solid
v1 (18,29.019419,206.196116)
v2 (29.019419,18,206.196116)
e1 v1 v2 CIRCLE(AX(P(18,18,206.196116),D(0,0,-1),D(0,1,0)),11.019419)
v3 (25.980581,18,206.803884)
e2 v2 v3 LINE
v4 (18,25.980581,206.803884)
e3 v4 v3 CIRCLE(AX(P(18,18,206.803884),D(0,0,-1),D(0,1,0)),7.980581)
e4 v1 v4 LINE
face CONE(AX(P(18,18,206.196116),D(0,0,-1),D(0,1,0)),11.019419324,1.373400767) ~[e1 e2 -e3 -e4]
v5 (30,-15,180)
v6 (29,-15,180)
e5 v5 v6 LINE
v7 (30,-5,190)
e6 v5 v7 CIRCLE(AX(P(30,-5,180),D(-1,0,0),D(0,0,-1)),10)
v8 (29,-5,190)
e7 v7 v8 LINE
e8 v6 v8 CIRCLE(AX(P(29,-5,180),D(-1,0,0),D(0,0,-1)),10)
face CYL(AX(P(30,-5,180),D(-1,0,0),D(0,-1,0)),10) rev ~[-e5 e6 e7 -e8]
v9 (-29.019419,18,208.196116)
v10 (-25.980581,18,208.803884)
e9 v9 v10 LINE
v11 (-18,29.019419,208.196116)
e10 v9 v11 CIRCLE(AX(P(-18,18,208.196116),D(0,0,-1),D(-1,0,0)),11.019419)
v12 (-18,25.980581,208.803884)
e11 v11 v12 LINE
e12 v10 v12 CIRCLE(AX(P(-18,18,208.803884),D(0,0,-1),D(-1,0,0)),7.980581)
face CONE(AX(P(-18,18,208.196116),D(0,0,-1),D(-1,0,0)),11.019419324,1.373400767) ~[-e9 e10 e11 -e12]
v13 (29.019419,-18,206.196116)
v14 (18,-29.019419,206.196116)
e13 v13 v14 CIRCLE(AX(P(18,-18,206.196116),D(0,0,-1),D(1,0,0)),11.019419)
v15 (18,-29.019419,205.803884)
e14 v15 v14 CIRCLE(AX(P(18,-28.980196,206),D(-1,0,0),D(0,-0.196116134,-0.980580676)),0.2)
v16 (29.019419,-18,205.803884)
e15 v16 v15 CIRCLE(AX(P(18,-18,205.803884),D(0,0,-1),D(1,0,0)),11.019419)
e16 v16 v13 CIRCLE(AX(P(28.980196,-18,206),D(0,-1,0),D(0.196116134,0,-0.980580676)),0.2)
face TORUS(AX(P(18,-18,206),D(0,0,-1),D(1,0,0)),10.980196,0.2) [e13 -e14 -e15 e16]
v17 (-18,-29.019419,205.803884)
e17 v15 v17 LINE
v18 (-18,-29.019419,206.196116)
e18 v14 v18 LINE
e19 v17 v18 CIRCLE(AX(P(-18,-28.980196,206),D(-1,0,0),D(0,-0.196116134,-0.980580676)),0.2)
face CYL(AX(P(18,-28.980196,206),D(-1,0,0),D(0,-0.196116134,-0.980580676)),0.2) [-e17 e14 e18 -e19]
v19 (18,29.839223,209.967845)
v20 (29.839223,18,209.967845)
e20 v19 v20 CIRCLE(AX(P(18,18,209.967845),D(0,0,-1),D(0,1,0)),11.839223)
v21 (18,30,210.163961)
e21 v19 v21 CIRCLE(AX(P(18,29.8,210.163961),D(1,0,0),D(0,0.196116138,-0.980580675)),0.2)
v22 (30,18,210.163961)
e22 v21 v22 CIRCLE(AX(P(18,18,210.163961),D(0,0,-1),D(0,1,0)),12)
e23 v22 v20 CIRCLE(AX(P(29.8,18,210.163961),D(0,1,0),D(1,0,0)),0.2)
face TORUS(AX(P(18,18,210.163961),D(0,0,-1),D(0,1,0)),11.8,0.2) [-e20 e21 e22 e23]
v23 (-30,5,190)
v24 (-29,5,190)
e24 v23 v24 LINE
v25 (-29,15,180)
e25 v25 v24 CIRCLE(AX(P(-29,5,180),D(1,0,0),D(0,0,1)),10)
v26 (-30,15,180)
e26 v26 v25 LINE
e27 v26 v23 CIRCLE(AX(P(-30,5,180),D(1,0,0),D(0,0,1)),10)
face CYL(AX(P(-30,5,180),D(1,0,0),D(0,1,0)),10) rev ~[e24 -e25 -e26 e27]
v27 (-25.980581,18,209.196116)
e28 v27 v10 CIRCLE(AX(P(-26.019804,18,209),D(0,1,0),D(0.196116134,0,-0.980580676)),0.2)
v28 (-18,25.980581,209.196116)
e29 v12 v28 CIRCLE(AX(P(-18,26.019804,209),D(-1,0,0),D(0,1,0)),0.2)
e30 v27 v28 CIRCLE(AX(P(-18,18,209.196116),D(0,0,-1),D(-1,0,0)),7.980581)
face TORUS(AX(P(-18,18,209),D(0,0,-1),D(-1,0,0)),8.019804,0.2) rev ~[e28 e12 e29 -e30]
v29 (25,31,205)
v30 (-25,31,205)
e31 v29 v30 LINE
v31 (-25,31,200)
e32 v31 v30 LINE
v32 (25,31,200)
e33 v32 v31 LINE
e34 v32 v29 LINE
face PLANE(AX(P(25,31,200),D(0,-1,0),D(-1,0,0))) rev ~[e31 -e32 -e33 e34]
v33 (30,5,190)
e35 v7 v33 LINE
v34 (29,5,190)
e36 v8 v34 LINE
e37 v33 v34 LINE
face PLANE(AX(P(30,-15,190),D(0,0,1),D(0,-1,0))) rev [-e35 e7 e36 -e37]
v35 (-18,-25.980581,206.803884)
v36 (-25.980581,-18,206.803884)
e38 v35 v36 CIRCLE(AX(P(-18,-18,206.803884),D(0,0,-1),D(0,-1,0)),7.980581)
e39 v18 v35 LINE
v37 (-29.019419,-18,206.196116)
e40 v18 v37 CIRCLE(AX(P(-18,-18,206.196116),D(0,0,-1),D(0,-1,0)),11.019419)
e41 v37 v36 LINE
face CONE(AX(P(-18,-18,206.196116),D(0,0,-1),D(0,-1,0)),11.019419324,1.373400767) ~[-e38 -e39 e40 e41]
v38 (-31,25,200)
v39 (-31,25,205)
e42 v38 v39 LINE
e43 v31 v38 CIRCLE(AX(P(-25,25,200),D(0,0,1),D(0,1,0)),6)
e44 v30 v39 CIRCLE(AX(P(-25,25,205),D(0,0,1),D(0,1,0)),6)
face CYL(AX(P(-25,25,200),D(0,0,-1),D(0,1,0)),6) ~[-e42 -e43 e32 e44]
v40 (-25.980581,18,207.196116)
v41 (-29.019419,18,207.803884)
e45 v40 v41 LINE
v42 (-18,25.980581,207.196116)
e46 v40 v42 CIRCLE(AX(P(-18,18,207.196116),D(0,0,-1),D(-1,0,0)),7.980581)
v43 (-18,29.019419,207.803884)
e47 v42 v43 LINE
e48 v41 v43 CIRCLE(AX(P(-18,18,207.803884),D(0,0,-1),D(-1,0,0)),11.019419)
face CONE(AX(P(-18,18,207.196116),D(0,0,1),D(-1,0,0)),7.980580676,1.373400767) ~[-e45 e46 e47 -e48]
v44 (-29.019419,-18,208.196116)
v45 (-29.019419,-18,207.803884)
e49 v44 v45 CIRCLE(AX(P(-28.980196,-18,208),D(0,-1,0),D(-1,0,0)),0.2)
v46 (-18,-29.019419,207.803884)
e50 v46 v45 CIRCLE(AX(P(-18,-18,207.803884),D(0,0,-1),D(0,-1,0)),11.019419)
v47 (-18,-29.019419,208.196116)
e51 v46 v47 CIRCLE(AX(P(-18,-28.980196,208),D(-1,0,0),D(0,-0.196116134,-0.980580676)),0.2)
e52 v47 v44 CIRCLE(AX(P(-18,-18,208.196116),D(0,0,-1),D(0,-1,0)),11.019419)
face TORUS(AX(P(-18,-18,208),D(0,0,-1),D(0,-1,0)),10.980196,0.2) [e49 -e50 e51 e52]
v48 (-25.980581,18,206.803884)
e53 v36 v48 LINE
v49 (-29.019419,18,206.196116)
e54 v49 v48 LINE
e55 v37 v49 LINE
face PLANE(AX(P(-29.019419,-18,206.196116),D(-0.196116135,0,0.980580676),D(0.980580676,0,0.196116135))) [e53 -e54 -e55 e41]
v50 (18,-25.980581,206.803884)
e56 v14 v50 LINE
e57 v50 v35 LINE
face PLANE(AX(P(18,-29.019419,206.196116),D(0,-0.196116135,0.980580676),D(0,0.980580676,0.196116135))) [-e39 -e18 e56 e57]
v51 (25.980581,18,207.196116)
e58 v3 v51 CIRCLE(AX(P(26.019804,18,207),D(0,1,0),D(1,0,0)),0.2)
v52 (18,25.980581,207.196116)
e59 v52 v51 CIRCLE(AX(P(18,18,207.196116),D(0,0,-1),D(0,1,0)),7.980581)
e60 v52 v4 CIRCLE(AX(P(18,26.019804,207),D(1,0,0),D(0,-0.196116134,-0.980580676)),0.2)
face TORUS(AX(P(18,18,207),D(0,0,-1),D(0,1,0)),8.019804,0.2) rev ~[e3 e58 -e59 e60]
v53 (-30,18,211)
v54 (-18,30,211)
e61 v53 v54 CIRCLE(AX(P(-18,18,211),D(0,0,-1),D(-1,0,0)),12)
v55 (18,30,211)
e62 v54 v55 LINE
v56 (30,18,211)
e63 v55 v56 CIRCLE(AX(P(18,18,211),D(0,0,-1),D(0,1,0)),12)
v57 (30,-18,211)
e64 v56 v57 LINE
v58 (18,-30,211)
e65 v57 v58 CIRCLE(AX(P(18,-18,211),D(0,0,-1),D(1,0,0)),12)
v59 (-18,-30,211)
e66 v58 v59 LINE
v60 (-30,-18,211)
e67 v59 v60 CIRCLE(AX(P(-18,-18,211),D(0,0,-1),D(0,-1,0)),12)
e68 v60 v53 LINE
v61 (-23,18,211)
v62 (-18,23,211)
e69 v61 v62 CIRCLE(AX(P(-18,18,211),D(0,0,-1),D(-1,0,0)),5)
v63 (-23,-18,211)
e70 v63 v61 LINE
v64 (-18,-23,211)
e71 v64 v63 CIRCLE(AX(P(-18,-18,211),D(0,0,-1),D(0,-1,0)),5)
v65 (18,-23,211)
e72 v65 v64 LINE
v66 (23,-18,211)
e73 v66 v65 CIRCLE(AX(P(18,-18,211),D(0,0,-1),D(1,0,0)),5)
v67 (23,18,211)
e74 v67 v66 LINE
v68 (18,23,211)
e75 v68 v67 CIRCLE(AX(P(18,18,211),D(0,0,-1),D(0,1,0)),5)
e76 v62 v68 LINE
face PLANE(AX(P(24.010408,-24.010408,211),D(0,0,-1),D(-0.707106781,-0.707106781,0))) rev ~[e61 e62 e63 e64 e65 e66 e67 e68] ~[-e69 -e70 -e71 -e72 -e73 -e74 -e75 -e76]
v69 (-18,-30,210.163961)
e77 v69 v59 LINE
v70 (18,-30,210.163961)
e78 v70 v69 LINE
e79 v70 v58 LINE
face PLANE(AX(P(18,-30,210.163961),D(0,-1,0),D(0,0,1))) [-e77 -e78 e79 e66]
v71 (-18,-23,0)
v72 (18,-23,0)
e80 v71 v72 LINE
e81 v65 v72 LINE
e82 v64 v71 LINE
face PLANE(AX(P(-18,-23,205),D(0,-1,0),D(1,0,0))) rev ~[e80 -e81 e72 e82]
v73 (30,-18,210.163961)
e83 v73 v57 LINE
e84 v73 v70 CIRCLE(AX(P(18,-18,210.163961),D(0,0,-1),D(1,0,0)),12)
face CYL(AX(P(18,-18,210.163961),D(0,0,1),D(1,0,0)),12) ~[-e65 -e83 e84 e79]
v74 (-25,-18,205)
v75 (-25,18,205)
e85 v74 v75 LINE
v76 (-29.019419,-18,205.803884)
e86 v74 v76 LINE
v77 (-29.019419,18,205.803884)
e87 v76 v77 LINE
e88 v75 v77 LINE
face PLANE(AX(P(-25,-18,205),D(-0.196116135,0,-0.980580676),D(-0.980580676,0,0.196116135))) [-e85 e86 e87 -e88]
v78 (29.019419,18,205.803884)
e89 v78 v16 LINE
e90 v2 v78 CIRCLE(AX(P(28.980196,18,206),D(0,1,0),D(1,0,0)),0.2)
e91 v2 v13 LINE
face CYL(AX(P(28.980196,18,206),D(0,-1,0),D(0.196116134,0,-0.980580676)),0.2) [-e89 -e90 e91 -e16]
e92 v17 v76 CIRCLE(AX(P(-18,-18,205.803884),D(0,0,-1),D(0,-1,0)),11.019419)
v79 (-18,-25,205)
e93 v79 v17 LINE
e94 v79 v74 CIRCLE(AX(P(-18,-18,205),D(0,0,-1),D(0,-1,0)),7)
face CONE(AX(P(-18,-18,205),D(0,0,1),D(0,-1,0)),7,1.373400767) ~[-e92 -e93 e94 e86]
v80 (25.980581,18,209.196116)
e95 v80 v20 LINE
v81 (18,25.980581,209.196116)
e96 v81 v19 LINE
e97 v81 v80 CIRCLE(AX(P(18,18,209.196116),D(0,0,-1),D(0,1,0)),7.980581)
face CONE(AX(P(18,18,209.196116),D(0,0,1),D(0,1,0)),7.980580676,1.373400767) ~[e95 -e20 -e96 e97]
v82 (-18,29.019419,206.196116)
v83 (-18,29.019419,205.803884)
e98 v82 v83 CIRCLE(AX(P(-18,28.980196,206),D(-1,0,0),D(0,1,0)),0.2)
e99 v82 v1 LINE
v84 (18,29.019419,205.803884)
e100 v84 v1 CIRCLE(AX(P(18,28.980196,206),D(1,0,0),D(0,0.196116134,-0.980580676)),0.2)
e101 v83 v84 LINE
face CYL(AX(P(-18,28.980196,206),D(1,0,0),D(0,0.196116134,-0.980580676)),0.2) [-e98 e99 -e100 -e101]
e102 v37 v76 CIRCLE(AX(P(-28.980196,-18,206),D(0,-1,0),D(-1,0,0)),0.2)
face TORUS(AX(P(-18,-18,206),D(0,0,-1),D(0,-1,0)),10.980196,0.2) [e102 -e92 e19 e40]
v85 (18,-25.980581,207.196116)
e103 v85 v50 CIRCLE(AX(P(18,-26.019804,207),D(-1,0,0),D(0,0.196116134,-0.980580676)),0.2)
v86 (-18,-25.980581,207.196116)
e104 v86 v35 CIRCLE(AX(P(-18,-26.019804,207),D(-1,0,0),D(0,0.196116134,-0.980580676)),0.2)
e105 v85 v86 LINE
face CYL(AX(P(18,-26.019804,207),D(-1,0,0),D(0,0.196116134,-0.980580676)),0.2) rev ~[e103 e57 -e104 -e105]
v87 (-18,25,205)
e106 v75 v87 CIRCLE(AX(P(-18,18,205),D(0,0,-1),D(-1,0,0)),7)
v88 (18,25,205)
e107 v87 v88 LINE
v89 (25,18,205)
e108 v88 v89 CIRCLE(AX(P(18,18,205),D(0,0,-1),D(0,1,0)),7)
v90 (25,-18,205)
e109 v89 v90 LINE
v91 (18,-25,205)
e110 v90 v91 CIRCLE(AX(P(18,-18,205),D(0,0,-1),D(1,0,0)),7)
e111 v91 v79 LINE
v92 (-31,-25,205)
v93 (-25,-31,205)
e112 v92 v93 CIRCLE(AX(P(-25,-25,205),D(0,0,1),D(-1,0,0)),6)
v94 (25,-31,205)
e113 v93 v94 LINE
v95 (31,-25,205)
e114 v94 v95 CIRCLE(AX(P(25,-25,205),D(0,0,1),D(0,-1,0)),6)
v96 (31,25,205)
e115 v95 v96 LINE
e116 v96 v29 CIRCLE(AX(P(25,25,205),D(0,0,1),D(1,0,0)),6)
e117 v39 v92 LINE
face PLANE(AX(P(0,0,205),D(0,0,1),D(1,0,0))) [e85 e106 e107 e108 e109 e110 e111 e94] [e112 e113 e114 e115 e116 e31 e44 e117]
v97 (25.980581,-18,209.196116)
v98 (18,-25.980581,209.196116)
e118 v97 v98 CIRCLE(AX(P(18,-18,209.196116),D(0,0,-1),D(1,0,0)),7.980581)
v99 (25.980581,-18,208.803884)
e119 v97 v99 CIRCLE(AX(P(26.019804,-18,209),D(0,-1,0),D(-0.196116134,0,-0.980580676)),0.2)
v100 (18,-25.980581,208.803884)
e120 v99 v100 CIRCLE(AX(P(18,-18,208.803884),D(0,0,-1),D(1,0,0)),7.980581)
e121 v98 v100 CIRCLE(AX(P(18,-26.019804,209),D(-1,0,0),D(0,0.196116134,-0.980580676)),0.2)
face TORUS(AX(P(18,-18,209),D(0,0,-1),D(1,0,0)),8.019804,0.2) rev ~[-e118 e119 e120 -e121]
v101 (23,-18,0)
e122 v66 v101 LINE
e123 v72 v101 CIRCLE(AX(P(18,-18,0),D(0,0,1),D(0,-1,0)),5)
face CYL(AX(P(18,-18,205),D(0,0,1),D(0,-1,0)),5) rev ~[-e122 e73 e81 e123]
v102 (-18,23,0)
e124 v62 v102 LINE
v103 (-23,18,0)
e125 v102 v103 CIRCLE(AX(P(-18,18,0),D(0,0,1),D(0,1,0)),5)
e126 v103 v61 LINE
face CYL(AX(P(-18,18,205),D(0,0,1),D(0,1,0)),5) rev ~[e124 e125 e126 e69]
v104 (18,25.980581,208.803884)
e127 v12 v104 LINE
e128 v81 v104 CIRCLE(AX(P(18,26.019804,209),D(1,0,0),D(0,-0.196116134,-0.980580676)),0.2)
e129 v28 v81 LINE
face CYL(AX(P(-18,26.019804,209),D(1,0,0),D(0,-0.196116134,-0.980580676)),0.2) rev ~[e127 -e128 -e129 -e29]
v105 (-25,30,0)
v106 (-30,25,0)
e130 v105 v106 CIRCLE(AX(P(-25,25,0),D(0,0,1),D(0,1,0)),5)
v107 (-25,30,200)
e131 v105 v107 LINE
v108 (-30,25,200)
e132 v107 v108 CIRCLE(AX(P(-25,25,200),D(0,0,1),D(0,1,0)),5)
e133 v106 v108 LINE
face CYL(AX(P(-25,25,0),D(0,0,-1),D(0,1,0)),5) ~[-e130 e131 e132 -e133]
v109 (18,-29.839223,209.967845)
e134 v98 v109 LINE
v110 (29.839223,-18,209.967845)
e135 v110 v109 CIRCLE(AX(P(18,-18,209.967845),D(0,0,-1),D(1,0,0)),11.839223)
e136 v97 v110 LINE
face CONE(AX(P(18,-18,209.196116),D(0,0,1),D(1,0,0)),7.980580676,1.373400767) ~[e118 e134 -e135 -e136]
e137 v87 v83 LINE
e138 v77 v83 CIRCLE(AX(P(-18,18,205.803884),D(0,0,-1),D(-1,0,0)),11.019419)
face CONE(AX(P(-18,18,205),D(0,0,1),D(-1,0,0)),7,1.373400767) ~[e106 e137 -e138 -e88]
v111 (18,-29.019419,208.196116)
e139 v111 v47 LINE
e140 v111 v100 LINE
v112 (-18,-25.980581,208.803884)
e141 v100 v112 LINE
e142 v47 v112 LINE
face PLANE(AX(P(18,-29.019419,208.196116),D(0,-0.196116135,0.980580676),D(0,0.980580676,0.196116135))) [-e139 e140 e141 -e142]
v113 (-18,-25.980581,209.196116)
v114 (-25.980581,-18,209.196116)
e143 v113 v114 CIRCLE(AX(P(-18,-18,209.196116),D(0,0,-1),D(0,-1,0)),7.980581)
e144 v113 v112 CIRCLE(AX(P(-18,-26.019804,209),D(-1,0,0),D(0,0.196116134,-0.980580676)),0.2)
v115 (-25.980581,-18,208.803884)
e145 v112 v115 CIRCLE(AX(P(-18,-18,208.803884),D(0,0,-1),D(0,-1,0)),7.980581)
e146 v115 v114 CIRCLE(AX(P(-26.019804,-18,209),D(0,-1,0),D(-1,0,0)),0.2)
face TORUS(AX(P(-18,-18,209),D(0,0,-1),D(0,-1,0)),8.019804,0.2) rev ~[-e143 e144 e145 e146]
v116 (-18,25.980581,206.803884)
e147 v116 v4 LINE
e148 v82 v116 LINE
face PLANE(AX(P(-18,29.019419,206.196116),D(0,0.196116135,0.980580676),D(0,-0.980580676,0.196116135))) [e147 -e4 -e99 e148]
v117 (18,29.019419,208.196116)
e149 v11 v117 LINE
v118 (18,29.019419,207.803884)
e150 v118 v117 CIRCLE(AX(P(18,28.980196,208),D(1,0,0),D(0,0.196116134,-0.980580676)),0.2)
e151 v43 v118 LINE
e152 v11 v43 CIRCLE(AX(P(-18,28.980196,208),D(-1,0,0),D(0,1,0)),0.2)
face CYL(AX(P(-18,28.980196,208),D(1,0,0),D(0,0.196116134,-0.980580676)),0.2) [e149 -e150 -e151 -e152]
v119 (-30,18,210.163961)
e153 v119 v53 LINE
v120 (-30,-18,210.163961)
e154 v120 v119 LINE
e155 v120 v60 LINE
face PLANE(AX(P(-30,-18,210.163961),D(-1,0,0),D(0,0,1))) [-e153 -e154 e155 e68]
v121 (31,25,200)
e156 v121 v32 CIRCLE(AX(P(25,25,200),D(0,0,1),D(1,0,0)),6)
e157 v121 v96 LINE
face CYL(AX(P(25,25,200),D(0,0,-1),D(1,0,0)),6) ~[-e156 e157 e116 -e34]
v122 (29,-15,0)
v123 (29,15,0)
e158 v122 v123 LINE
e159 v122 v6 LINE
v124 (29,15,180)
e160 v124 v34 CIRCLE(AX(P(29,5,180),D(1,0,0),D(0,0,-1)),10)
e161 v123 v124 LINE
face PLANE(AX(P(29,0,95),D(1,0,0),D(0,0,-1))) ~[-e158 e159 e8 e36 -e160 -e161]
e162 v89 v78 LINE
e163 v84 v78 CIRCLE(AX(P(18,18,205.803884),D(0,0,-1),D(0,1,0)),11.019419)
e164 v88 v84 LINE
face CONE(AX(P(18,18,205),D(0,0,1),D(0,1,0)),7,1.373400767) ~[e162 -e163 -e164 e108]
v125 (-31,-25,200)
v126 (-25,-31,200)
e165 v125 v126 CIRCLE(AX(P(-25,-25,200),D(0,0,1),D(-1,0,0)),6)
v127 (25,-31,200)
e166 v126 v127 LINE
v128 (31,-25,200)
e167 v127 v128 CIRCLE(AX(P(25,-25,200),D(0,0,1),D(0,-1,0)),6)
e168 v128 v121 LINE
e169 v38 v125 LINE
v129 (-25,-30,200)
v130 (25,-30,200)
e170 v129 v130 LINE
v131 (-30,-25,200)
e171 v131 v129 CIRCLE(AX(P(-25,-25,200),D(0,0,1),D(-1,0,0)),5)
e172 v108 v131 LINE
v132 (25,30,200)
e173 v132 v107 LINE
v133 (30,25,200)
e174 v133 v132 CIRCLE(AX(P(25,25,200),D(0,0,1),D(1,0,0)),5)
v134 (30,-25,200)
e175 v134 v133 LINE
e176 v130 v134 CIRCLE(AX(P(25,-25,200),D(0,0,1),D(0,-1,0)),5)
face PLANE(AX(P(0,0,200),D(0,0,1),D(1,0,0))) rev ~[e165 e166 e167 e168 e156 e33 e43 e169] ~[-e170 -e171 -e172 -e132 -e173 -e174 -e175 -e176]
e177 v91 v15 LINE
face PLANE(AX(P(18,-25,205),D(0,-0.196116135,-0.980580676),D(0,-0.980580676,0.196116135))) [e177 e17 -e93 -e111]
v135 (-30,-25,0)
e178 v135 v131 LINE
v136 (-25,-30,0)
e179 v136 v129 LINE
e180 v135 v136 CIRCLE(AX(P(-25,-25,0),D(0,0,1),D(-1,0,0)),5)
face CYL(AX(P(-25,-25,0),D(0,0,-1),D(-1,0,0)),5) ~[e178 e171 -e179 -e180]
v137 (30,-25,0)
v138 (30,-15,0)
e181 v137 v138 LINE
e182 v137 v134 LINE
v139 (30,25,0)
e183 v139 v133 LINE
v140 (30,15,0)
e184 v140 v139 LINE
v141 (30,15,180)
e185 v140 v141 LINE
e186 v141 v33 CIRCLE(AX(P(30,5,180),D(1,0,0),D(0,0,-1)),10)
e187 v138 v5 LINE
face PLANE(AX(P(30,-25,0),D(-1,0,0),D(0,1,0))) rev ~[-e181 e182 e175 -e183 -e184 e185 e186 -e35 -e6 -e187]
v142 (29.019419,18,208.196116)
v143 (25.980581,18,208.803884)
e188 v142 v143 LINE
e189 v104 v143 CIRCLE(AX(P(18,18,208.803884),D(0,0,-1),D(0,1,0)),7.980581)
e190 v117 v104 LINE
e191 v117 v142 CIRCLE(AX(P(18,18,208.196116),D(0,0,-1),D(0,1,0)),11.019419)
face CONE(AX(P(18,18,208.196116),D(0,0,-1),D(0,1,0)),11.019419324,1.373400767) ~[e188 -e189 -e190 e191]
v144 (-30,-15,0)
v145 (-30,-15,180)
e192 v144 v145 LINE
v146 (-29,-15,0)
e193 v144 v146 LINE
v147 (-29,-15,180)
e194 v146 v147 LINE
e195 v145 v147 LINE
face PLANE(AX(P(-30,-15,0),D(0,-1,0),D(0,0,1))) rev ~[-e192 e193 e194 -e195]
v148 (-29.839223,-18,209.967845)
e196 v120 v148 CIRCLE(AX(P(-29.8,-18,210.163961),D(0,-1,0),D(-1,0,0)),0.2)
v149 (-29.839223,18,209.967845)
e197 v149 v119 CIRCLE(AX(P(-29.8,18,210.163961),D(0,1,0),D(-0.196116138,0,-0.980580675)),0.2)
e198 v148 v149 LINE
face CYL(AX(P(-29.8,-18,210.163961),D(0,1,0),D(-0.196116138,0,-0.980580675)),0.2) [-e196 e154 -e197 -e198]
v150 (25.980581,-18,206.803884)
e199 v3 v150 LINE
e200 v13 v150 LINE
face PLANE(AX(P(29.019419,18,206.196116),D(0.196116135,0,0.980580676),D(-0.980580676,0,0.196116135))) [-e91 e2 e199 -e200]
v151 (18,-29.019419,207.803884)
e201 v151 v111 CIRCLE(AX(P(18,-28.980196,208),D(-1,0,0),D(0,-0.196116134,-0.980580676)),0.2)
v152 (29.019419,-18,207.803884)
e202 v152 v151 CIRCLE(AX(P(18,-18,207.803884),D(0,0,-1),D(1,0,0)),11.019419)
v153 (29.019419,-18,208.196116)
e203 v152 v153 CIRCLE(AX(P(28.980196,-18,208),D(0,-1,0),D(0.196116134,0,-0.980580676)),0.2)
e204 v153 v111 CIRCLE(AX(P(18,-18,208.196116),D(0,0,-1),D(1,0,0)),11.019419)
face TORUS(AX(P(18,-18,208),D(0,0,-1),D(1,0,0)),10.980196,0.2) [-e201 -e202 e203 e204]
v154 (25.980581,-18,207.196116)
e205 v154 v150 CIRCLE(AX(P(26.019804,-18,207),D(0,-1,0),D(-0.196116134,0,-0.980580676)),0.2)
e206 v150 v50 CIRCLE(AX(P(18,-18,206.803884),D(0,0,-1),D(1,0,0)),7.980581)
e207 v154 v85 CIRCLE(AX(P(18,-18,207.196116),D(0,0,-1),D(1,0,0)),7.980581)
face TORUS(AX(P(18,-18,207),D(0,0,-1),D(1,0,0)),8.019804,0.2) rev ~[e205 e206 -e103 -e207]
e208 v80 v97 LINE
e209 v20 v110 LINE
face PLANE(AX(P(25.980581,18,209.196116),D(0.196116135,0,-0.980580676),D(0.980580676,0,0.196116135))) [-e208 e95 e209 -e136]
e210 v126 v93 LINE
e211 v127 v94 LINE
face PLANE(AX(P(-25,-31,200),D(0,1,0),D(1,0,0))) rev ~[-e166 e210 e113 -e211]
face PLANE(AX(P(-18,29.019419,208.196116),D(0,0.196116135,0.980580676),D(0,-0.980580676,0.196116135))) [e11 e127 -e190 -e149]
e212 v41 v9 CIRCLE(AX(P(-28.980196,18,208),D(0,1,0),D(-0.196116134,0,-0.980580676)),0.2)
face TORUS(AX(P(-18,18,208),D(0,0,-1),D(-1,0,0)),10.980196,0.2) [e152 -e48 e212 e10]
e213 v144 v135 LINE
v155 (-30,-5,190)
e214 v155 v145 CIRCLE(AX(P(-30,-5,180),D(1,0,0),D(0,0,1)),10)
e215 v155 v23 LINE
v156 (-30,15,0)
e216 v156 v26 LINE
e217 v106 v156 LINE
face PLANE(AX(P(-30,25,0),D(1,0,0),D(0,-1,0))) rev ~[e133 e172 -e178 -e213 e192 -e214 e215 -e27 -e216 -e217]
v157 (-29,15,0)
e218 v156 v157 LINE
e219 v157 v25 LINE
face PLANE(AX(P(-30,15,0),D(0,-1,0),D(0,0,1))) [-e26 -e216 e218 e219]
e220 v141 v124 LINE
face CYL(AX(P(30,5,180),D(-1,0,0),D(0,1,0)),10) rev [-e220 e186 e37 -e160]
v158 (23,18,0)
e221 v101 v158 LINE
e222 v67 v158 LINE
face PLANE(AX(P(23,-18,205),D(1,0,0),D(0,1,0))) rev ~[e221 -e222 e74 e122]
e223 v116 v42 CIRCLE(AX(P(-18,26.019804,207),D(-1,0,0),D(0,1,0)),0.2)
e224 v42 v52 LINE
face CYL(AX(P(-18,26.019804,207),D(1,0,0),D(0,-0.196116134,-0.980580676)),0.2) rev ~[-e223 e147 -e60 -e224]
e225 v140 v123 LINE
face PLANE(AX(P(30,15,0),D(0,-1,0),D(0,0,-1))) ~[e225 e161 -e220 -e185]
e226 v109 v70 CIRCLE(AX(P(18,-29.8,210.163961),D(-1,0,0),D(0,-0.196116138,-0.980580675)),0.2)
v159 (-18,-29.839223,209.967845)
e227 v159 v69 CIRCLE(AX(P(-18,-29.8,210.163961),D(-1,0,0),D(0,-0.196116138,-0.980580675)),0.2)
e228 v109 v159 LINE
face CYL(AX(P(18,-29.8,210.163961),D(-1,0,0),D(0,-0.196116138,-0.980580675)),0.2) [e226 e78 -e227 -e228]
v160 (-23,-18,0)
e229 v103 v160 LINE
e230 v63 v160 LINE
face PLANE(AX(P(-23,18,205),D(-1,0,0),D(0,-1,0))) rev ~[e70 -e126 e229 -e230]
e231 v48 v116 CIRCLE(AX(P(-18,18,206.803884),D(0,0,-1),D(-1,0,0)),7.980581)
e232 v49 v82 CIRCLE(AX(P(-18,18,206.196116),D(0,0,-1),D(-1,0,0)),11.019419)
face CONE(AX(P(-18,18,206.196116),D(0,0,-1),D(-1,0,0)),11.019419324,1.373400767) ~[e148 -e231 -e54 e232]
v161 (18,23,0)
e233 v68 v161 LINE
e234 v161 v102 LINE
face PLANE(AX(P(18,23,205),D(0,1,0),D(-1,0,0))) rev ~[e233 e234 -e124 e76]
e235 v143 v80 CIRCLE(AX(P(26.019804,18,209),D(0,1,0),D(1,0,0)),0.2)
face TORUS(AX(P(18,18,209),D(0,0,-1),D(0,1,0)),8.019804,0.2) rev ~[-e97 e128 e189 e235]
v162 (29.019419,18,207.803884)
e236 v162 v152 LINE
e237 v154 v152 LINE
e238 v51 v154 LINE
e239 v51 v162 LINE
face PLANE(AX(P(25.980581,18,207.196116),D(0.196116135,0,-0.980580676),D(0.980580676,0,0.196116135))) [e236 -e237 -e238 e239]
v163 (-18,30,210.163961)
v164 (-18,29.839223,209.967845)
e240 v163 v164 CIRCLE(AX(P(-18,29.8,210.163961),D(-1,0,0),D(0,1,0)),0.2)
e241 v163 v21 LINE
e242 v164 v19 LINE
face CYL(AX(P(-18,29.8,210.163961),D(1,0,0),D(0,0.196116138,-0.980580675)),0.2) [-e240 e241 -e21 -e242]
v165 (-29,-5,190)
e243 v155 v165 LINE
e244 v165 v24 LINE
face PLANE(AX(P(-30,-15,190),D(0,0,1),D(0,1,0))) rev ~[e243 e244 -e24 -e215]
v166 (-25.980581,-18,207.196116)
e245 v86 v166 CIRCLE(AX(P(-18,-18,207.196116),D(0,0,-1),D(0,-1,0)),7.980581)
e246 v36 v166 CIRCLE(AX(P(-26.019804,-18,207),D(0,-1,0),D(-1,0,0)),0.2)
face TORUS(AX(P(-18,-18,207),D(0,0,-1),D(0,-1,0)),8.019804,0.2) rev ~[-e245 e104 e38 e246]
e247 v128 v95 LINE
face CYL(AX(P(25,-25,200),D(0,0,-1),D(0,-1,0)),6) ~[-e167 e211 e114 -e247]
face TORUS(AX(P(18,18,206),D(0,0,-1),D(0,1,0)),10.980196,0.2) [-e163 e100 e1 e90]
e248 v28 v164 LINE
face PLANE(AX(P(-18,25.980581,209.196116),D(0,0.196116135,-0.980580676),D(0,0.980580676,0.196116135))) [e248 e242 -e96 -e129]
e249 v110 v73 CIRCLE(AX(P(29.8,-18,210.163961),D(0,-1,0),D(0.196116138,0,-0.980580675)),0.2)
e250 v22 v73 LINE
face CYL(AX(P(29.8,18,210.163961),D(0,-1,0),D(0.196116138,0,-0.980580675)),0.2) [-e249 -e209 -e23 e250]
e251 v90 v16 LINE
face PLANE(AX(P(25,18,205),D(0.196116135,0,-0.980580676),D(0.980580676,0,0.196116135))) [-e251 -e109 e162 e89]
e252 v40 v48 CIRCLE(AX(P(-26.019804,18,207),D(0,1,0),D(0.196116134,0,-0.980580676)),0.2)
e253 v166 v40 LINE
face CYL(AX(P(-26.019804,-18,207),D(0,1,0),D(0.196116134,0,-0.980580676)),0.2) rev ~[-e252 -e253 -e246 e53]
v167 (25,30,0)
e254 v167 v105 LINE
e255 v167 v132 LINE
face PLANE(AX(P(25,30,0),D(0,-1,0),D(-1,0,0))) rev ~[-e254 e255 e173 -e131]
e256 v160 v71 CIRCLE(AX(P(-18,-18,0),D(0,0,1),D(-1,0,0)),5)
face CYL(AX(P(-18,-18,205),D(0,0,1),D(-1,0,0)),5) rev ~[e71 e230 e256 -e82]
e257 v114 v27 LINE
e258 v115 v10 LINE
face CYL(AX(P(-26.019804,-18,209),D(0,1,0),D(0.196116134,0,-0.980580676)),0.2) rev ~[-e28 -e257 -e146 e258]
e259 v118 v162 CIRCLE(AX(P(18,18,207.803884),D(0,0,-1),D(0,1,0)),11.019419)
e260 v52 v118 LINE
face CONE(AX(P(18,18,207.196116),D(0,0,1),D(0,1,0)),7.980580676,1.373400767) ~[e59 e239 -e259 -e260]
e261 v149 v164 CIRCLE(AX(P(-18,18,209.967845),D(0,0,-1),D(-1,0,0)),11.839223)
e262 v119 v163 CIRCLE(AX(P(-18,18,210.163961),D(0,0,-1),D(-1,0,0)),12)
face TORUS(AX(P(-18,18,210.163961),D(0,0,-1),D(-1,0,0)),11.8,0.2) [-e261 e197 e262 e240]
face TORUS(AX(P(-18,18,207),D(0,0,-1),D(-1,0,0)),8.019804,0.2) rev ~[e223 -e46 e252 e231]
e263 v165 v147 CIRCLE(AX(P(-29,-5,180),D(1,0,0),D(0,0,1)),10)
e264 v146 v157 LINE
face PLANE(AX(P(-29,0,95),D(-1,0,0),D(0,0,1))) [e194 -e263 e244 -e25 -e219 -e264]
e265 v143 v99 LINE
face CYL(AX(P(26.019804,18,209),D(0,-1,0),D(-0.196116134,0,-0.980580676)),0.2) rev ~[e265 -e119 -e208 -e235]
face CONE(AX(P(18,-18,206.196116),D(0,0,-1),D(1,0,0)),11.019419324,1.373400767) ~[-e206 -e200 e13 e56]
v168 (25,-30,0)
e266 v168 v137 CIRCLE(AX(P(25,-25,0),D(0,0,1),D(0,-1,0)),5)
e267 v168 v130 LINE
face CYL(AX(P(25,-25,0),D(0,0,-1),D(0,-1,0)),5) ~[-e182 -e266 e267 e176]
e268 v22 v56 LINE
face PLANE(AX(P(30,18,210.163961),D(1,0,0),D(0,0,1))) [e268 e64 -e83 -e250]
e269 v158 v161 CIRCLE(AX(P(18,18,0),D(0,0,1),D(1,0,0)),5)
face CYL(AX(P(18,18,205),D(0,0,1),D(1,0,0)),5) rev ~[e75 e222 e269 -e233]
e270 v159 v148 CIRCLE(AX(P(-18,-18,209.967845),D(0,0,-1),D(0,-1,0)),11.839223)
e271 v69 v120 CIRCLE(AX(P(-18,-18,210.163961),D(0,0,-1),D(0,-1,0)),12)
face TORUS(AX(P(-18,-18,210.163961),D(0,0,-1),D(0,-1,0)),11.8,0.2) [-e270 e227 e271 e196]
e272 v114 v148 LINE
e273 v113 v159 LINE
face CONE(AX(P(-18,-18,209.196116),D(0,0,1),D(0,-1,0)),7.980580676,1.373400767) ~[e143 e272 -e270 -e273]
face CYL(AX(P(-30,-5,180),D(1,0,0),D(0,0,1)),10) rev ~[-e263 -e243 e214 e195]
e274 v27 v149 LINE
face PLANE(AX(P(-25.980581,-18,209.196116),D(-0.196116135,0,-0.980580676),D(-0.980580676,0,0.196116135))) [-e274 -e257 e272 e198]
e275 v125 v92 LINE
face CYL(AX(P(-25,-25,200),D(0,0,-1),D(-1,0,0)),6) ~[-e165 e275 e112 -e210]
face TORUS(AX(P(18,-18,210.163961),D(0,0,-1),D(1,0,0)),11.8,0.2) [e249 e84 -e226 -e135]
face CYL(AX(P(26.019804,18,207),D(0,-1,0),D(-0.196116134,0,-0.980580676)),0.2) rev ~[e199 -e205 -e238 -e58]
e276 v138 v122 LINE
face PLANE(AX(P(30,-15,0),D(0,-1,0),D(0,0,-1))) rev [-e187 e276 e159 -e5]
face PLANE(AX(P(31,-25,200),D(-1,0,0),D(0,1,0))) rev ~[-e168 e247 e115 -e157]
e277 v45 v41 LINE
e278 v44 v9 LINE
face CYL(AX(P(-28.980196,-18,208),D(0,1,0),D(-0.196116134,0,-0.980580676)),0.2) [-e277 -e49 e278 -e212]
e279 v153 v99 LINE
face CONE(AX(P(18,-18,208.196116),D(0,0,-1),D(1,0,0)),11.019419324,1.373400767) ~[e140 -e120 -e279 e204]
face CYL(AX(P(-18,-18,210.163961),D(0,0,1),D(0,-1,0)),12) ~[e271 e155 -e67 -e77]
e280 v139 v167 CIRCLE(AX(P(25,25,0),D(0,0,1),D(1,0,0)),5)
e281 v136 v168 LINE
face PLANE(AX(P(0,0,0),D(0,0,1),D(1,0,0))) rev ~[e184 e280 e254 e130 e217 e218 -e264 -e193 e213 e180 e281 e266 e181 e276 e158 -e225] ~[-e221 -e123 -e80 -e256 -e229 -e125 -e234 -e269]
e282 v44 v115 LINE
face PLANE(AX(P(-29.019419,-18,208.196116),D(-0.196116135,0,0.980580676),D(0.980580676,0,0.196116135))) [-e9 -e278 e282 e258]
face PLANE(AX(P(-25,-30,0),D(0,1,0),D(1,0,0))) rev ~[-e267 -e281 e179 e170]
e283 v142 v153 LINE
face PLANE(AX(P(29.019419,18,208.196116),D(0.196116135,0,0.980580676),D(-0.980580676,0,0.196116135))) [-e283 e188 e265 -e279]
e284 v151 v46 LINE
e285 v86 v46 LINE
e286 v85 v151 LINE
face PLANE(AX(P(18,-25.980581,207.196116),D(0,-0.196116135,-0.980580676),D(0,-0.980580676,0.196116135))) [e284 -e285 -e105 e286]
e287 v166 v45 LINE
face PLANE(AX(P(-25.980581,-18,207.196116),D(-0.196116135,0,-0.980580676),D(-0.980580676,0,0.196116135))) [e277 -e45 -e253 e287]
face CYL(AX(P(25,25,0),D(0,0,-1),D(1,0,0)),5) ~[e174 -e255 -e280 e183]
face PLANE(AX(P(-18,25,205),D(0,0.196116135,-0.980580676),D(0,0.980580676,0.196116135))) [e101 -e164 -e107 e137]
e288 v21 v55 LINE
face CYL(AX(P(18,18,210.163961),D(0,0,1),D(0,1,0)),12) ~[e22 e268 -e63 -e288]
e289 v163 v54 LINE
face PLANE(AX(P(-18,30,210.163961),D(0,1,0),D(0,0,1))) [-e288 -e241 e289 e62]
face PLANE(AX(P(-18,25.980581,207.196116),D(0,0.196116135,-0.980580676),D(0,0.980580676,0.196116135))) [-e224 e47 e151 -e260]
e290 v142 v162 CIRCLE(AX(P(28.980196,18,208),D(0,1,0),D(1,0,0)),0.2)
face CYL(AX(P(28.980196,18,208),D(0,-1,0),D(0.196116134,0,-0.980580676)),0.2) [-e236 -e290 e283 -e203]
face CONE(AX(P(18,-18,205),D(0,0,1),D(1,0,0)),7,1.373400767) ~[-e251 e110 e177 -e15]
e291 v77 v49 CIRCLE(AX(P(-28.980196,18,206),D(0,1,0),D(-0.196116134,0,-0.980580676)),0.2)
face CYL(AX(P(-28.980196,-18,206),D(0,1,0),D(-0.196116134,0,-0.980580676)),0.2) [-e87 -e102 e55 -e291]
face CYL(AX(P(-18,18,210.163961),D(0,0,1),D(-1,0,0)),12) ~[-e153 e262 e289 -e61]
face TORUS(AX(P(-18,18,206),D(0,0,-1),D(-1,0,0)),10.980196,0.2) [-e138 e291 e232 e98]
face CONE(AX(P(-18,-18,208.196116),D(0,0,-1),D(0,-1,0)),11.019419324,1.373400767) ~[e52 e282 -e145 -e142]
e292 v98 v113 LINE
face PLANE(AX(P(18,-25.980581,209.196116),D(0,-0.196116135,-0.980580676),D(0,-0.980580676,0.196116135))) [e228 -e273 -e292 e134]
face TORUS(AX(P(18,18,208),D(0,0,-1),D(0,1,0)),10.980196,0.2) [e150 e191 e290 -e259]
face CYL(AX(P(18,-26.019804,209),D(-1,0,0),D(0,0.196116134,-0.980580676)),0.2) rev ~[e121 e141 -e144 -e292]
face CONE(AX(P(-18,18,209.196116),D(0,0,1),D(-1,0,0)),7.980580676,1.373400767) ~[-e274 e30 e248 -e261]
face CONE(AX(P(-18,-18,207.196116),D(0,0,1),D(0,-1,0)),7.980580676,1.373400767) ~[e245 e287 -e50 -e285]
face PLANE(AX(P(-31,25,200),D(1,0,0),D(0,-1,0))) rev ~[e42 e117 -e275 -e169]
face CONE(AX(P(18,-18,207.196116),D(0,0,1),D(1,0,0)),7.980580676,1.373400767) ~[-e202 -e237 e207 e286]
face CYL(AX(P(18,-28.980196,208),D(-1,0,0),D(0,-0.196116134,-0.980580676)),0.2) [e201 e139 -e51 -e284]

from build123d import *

# Parameters (mm, degrees)
BOSS_EXTRUDE1_DEPTH  = 200
BOSS_EXTRUDE2_DEPTH  = 5
CUT_EXTRUDE1_DEPTH   = 206
SKETCH7_W            = 190
SKETCH7_H            = 30
CUT_EXTRUDE2_DEPTH   = 1
FILLET1_R            = 10
FILLET1_OF_MIRROR1_R = 10


with BuildPart() as part:
    # Sketch1 → Boss-Extrude1 (new body)
    with BuildSketch(Plane.XY):
        with BuildLine():
            Line((-25, -30), (25, -30))
            ThreePointArc((25, -30), (28.535533906, -28.535533906), (30, -25))
            Line((30, -25), (30, 25))
            ThreePointArc((30, 25), (28.535533906, 28.535533906), (25, 30))
            Line((25, 30), (-25, 30))
            ThreePointArc((-25, 30), (-28.535533906, 28.535533906), (-30, 25))
            Line((-30, 25), (-30, -25))
            ThreePointArc((-30, -25), (-28.535533906, -28.535533906), (-25, -30))
        make_face()
    extrude(amount=BOSS_EXTRUDE1_DEPTH)

    # Sketch2 → Boss-Extrude2 (add)
    with BuildSketch(Plane.XY.offset(200)):
        with BuildLine():
            Line((-25, -31), (25, -31))
            ThreePointArc((25, -31), (29.242640687, -29.242640687), (31, -25))
            Line((31, -25), (31, 25))
            ThreePointArc((31, 25), (29.242640687, 29.242640687), (25, 31))
            Line((25, 31), (-25, 31))
            ThreePointArc((-25, 31), (-29.242640687, 29.242640687), (-31, 25))
            Line((-31, 25), (-31, -25))
            ThreePointArc((-31, -25), (-29.242640687, -29.242640687), (-25, -31))
        make_face()
    extrude(amount=BOSS_EXTRUDE2_DEPTH)

    # Sweep1: sweep along a path in Sketch5
    with BuildLine(Plane.XY.offset(205)) as sweep1_path:
        Line((18, -23), (-18, -23))
        ThreePointArc((-18, -23), (-21.535533906, -21.535533906), (-23, -18))
        Line((-23, -18), (-23, 18))
        ThreePointArc((-23, 18), (-21.535533906, 21.535533906), (-18, 23))
        Line((-18, 23), (18, 23))
        ThreePointArc((18, 23), (21.535533906, 21.535533906), (23, 18))
        Line((23, 18), (23, -18))
        ThreePointArc((23, -18), (21.535533906, -21.535533906), (18, -23))
    # Sketch3 → Sweep1 (sweep)
    with BuildSketch(Plane(origin=(0, 0, 0), x_dir=(1, 0, 0), z_dir=(0, 1, 0))):
        with BuildLine():
            Line((-25, -205), (-29.019419324, -205.803883865))
            ThreePointArc((-29.019419324, -205.803883865), (-29.180196097, -206), (-29.019419324, -206.196116135))
            Line((-29.019419324, -206.196116135), (-25.980580676, -206.803883865))
            ThreePointArc((-25.980580676, -206.803883865), (-25.819803903, -207), (-25.980580676, -207.196116135))
            Line((-25.980580676, -207.196116135), (-29.019419324, -207.803883865))
            ThreePointArc((-29.019419324, -207.803883865), (-29.180196097, -208), (-29.019419324, -208.196116135))
            Line((-29.019419324, -208.196116135), (-25.980580676, -208.803883865))
            ThreePointArc((-25.980580676, -208.803883865), (-25.819803903, -209), (-25.980580676, -209.196116135))
            Line((-25.980580676, -209.196116135), (-29.839223227, -209.967844645))
            ThreePointArc((-29.839223227, -209.967844645), (-29.954668428, -210.037162999), (-30, -210.163960781))
            Line((-30, -210.163960781), (-30, -211))
            Line((-30, -211), (-23, -211))
            Line((-23, -211), (-23, -205))
            Line((-23, -205), (-25, -205))
        make_face()
    sweep(path=sweep1_path.line)

    # Sketch6 → Cut-Extrude1 (cut, through all)
    with BuildSketch(Plane.XY.offset(205)):
        with BuildLine():
            Line((-23, 18), (-23, 0))
            Line((-23, 0), (-23, -18))
            ThreePointArc((-23, -18), (-21.535533906, -21.535533906), (-18, -23))
            Line((-18, -23), (18, -23))
            ThreePointArc((18, -23), (21.535533906, -21.535533906), (23, -18))
            Line((23, -18), (23, 18))
            ThreePointArc((23, 18), (21.535533906, 21.535533906), (18, 23))
            Line((18, 23), (-18, 23))
            ThreePointArc((-18, 23), (-21.535533906, 21.535533906), (-23, 18))
        make_face()
    extrude(amount=-CUT_EXTRUDE1_DEPTH, mode=Mode.SUBTRACT)

    # Sketch7 → Cut-Extrude2 (cut)
    with BuildSketch(Plane.ZY.offset(30)):
        with Locations((95, 0)):
            Rectangle(SKETCH7_W, SKETCH7_H)
    cut_extrude2 = extrude(amount=-CUT_EXTRUDE2_DEPTH, mode=Mode.SUBTRACT)

    # Fillet1
    fillet1_edges = [part.edges().sort_by_distance(p)[0] for p in [
        (-29.5, -15, 190),
        (-29.5, 15, 190),
    ]]
    fillet(fillet1_edges, radius=FILLET1_R)

    # Mirror1: Cut-Extrude2 across plane
    add(cut_extrude2.mirror(Plane.ZY), mode=Mode.SUBTRACT)

    # Fillet1 of Mirror1
    fillet1_of_mirror1_edges = [part.edges().sort_by_distance(p)[0] for p in [
        (29.5, -15, 190),
        (29.5, 15, 190),
    ]]
    fillet(fillet1_of_mirror1_edges, radius=FILLET1_OF_MIRROR1_R)


solid = part.part
